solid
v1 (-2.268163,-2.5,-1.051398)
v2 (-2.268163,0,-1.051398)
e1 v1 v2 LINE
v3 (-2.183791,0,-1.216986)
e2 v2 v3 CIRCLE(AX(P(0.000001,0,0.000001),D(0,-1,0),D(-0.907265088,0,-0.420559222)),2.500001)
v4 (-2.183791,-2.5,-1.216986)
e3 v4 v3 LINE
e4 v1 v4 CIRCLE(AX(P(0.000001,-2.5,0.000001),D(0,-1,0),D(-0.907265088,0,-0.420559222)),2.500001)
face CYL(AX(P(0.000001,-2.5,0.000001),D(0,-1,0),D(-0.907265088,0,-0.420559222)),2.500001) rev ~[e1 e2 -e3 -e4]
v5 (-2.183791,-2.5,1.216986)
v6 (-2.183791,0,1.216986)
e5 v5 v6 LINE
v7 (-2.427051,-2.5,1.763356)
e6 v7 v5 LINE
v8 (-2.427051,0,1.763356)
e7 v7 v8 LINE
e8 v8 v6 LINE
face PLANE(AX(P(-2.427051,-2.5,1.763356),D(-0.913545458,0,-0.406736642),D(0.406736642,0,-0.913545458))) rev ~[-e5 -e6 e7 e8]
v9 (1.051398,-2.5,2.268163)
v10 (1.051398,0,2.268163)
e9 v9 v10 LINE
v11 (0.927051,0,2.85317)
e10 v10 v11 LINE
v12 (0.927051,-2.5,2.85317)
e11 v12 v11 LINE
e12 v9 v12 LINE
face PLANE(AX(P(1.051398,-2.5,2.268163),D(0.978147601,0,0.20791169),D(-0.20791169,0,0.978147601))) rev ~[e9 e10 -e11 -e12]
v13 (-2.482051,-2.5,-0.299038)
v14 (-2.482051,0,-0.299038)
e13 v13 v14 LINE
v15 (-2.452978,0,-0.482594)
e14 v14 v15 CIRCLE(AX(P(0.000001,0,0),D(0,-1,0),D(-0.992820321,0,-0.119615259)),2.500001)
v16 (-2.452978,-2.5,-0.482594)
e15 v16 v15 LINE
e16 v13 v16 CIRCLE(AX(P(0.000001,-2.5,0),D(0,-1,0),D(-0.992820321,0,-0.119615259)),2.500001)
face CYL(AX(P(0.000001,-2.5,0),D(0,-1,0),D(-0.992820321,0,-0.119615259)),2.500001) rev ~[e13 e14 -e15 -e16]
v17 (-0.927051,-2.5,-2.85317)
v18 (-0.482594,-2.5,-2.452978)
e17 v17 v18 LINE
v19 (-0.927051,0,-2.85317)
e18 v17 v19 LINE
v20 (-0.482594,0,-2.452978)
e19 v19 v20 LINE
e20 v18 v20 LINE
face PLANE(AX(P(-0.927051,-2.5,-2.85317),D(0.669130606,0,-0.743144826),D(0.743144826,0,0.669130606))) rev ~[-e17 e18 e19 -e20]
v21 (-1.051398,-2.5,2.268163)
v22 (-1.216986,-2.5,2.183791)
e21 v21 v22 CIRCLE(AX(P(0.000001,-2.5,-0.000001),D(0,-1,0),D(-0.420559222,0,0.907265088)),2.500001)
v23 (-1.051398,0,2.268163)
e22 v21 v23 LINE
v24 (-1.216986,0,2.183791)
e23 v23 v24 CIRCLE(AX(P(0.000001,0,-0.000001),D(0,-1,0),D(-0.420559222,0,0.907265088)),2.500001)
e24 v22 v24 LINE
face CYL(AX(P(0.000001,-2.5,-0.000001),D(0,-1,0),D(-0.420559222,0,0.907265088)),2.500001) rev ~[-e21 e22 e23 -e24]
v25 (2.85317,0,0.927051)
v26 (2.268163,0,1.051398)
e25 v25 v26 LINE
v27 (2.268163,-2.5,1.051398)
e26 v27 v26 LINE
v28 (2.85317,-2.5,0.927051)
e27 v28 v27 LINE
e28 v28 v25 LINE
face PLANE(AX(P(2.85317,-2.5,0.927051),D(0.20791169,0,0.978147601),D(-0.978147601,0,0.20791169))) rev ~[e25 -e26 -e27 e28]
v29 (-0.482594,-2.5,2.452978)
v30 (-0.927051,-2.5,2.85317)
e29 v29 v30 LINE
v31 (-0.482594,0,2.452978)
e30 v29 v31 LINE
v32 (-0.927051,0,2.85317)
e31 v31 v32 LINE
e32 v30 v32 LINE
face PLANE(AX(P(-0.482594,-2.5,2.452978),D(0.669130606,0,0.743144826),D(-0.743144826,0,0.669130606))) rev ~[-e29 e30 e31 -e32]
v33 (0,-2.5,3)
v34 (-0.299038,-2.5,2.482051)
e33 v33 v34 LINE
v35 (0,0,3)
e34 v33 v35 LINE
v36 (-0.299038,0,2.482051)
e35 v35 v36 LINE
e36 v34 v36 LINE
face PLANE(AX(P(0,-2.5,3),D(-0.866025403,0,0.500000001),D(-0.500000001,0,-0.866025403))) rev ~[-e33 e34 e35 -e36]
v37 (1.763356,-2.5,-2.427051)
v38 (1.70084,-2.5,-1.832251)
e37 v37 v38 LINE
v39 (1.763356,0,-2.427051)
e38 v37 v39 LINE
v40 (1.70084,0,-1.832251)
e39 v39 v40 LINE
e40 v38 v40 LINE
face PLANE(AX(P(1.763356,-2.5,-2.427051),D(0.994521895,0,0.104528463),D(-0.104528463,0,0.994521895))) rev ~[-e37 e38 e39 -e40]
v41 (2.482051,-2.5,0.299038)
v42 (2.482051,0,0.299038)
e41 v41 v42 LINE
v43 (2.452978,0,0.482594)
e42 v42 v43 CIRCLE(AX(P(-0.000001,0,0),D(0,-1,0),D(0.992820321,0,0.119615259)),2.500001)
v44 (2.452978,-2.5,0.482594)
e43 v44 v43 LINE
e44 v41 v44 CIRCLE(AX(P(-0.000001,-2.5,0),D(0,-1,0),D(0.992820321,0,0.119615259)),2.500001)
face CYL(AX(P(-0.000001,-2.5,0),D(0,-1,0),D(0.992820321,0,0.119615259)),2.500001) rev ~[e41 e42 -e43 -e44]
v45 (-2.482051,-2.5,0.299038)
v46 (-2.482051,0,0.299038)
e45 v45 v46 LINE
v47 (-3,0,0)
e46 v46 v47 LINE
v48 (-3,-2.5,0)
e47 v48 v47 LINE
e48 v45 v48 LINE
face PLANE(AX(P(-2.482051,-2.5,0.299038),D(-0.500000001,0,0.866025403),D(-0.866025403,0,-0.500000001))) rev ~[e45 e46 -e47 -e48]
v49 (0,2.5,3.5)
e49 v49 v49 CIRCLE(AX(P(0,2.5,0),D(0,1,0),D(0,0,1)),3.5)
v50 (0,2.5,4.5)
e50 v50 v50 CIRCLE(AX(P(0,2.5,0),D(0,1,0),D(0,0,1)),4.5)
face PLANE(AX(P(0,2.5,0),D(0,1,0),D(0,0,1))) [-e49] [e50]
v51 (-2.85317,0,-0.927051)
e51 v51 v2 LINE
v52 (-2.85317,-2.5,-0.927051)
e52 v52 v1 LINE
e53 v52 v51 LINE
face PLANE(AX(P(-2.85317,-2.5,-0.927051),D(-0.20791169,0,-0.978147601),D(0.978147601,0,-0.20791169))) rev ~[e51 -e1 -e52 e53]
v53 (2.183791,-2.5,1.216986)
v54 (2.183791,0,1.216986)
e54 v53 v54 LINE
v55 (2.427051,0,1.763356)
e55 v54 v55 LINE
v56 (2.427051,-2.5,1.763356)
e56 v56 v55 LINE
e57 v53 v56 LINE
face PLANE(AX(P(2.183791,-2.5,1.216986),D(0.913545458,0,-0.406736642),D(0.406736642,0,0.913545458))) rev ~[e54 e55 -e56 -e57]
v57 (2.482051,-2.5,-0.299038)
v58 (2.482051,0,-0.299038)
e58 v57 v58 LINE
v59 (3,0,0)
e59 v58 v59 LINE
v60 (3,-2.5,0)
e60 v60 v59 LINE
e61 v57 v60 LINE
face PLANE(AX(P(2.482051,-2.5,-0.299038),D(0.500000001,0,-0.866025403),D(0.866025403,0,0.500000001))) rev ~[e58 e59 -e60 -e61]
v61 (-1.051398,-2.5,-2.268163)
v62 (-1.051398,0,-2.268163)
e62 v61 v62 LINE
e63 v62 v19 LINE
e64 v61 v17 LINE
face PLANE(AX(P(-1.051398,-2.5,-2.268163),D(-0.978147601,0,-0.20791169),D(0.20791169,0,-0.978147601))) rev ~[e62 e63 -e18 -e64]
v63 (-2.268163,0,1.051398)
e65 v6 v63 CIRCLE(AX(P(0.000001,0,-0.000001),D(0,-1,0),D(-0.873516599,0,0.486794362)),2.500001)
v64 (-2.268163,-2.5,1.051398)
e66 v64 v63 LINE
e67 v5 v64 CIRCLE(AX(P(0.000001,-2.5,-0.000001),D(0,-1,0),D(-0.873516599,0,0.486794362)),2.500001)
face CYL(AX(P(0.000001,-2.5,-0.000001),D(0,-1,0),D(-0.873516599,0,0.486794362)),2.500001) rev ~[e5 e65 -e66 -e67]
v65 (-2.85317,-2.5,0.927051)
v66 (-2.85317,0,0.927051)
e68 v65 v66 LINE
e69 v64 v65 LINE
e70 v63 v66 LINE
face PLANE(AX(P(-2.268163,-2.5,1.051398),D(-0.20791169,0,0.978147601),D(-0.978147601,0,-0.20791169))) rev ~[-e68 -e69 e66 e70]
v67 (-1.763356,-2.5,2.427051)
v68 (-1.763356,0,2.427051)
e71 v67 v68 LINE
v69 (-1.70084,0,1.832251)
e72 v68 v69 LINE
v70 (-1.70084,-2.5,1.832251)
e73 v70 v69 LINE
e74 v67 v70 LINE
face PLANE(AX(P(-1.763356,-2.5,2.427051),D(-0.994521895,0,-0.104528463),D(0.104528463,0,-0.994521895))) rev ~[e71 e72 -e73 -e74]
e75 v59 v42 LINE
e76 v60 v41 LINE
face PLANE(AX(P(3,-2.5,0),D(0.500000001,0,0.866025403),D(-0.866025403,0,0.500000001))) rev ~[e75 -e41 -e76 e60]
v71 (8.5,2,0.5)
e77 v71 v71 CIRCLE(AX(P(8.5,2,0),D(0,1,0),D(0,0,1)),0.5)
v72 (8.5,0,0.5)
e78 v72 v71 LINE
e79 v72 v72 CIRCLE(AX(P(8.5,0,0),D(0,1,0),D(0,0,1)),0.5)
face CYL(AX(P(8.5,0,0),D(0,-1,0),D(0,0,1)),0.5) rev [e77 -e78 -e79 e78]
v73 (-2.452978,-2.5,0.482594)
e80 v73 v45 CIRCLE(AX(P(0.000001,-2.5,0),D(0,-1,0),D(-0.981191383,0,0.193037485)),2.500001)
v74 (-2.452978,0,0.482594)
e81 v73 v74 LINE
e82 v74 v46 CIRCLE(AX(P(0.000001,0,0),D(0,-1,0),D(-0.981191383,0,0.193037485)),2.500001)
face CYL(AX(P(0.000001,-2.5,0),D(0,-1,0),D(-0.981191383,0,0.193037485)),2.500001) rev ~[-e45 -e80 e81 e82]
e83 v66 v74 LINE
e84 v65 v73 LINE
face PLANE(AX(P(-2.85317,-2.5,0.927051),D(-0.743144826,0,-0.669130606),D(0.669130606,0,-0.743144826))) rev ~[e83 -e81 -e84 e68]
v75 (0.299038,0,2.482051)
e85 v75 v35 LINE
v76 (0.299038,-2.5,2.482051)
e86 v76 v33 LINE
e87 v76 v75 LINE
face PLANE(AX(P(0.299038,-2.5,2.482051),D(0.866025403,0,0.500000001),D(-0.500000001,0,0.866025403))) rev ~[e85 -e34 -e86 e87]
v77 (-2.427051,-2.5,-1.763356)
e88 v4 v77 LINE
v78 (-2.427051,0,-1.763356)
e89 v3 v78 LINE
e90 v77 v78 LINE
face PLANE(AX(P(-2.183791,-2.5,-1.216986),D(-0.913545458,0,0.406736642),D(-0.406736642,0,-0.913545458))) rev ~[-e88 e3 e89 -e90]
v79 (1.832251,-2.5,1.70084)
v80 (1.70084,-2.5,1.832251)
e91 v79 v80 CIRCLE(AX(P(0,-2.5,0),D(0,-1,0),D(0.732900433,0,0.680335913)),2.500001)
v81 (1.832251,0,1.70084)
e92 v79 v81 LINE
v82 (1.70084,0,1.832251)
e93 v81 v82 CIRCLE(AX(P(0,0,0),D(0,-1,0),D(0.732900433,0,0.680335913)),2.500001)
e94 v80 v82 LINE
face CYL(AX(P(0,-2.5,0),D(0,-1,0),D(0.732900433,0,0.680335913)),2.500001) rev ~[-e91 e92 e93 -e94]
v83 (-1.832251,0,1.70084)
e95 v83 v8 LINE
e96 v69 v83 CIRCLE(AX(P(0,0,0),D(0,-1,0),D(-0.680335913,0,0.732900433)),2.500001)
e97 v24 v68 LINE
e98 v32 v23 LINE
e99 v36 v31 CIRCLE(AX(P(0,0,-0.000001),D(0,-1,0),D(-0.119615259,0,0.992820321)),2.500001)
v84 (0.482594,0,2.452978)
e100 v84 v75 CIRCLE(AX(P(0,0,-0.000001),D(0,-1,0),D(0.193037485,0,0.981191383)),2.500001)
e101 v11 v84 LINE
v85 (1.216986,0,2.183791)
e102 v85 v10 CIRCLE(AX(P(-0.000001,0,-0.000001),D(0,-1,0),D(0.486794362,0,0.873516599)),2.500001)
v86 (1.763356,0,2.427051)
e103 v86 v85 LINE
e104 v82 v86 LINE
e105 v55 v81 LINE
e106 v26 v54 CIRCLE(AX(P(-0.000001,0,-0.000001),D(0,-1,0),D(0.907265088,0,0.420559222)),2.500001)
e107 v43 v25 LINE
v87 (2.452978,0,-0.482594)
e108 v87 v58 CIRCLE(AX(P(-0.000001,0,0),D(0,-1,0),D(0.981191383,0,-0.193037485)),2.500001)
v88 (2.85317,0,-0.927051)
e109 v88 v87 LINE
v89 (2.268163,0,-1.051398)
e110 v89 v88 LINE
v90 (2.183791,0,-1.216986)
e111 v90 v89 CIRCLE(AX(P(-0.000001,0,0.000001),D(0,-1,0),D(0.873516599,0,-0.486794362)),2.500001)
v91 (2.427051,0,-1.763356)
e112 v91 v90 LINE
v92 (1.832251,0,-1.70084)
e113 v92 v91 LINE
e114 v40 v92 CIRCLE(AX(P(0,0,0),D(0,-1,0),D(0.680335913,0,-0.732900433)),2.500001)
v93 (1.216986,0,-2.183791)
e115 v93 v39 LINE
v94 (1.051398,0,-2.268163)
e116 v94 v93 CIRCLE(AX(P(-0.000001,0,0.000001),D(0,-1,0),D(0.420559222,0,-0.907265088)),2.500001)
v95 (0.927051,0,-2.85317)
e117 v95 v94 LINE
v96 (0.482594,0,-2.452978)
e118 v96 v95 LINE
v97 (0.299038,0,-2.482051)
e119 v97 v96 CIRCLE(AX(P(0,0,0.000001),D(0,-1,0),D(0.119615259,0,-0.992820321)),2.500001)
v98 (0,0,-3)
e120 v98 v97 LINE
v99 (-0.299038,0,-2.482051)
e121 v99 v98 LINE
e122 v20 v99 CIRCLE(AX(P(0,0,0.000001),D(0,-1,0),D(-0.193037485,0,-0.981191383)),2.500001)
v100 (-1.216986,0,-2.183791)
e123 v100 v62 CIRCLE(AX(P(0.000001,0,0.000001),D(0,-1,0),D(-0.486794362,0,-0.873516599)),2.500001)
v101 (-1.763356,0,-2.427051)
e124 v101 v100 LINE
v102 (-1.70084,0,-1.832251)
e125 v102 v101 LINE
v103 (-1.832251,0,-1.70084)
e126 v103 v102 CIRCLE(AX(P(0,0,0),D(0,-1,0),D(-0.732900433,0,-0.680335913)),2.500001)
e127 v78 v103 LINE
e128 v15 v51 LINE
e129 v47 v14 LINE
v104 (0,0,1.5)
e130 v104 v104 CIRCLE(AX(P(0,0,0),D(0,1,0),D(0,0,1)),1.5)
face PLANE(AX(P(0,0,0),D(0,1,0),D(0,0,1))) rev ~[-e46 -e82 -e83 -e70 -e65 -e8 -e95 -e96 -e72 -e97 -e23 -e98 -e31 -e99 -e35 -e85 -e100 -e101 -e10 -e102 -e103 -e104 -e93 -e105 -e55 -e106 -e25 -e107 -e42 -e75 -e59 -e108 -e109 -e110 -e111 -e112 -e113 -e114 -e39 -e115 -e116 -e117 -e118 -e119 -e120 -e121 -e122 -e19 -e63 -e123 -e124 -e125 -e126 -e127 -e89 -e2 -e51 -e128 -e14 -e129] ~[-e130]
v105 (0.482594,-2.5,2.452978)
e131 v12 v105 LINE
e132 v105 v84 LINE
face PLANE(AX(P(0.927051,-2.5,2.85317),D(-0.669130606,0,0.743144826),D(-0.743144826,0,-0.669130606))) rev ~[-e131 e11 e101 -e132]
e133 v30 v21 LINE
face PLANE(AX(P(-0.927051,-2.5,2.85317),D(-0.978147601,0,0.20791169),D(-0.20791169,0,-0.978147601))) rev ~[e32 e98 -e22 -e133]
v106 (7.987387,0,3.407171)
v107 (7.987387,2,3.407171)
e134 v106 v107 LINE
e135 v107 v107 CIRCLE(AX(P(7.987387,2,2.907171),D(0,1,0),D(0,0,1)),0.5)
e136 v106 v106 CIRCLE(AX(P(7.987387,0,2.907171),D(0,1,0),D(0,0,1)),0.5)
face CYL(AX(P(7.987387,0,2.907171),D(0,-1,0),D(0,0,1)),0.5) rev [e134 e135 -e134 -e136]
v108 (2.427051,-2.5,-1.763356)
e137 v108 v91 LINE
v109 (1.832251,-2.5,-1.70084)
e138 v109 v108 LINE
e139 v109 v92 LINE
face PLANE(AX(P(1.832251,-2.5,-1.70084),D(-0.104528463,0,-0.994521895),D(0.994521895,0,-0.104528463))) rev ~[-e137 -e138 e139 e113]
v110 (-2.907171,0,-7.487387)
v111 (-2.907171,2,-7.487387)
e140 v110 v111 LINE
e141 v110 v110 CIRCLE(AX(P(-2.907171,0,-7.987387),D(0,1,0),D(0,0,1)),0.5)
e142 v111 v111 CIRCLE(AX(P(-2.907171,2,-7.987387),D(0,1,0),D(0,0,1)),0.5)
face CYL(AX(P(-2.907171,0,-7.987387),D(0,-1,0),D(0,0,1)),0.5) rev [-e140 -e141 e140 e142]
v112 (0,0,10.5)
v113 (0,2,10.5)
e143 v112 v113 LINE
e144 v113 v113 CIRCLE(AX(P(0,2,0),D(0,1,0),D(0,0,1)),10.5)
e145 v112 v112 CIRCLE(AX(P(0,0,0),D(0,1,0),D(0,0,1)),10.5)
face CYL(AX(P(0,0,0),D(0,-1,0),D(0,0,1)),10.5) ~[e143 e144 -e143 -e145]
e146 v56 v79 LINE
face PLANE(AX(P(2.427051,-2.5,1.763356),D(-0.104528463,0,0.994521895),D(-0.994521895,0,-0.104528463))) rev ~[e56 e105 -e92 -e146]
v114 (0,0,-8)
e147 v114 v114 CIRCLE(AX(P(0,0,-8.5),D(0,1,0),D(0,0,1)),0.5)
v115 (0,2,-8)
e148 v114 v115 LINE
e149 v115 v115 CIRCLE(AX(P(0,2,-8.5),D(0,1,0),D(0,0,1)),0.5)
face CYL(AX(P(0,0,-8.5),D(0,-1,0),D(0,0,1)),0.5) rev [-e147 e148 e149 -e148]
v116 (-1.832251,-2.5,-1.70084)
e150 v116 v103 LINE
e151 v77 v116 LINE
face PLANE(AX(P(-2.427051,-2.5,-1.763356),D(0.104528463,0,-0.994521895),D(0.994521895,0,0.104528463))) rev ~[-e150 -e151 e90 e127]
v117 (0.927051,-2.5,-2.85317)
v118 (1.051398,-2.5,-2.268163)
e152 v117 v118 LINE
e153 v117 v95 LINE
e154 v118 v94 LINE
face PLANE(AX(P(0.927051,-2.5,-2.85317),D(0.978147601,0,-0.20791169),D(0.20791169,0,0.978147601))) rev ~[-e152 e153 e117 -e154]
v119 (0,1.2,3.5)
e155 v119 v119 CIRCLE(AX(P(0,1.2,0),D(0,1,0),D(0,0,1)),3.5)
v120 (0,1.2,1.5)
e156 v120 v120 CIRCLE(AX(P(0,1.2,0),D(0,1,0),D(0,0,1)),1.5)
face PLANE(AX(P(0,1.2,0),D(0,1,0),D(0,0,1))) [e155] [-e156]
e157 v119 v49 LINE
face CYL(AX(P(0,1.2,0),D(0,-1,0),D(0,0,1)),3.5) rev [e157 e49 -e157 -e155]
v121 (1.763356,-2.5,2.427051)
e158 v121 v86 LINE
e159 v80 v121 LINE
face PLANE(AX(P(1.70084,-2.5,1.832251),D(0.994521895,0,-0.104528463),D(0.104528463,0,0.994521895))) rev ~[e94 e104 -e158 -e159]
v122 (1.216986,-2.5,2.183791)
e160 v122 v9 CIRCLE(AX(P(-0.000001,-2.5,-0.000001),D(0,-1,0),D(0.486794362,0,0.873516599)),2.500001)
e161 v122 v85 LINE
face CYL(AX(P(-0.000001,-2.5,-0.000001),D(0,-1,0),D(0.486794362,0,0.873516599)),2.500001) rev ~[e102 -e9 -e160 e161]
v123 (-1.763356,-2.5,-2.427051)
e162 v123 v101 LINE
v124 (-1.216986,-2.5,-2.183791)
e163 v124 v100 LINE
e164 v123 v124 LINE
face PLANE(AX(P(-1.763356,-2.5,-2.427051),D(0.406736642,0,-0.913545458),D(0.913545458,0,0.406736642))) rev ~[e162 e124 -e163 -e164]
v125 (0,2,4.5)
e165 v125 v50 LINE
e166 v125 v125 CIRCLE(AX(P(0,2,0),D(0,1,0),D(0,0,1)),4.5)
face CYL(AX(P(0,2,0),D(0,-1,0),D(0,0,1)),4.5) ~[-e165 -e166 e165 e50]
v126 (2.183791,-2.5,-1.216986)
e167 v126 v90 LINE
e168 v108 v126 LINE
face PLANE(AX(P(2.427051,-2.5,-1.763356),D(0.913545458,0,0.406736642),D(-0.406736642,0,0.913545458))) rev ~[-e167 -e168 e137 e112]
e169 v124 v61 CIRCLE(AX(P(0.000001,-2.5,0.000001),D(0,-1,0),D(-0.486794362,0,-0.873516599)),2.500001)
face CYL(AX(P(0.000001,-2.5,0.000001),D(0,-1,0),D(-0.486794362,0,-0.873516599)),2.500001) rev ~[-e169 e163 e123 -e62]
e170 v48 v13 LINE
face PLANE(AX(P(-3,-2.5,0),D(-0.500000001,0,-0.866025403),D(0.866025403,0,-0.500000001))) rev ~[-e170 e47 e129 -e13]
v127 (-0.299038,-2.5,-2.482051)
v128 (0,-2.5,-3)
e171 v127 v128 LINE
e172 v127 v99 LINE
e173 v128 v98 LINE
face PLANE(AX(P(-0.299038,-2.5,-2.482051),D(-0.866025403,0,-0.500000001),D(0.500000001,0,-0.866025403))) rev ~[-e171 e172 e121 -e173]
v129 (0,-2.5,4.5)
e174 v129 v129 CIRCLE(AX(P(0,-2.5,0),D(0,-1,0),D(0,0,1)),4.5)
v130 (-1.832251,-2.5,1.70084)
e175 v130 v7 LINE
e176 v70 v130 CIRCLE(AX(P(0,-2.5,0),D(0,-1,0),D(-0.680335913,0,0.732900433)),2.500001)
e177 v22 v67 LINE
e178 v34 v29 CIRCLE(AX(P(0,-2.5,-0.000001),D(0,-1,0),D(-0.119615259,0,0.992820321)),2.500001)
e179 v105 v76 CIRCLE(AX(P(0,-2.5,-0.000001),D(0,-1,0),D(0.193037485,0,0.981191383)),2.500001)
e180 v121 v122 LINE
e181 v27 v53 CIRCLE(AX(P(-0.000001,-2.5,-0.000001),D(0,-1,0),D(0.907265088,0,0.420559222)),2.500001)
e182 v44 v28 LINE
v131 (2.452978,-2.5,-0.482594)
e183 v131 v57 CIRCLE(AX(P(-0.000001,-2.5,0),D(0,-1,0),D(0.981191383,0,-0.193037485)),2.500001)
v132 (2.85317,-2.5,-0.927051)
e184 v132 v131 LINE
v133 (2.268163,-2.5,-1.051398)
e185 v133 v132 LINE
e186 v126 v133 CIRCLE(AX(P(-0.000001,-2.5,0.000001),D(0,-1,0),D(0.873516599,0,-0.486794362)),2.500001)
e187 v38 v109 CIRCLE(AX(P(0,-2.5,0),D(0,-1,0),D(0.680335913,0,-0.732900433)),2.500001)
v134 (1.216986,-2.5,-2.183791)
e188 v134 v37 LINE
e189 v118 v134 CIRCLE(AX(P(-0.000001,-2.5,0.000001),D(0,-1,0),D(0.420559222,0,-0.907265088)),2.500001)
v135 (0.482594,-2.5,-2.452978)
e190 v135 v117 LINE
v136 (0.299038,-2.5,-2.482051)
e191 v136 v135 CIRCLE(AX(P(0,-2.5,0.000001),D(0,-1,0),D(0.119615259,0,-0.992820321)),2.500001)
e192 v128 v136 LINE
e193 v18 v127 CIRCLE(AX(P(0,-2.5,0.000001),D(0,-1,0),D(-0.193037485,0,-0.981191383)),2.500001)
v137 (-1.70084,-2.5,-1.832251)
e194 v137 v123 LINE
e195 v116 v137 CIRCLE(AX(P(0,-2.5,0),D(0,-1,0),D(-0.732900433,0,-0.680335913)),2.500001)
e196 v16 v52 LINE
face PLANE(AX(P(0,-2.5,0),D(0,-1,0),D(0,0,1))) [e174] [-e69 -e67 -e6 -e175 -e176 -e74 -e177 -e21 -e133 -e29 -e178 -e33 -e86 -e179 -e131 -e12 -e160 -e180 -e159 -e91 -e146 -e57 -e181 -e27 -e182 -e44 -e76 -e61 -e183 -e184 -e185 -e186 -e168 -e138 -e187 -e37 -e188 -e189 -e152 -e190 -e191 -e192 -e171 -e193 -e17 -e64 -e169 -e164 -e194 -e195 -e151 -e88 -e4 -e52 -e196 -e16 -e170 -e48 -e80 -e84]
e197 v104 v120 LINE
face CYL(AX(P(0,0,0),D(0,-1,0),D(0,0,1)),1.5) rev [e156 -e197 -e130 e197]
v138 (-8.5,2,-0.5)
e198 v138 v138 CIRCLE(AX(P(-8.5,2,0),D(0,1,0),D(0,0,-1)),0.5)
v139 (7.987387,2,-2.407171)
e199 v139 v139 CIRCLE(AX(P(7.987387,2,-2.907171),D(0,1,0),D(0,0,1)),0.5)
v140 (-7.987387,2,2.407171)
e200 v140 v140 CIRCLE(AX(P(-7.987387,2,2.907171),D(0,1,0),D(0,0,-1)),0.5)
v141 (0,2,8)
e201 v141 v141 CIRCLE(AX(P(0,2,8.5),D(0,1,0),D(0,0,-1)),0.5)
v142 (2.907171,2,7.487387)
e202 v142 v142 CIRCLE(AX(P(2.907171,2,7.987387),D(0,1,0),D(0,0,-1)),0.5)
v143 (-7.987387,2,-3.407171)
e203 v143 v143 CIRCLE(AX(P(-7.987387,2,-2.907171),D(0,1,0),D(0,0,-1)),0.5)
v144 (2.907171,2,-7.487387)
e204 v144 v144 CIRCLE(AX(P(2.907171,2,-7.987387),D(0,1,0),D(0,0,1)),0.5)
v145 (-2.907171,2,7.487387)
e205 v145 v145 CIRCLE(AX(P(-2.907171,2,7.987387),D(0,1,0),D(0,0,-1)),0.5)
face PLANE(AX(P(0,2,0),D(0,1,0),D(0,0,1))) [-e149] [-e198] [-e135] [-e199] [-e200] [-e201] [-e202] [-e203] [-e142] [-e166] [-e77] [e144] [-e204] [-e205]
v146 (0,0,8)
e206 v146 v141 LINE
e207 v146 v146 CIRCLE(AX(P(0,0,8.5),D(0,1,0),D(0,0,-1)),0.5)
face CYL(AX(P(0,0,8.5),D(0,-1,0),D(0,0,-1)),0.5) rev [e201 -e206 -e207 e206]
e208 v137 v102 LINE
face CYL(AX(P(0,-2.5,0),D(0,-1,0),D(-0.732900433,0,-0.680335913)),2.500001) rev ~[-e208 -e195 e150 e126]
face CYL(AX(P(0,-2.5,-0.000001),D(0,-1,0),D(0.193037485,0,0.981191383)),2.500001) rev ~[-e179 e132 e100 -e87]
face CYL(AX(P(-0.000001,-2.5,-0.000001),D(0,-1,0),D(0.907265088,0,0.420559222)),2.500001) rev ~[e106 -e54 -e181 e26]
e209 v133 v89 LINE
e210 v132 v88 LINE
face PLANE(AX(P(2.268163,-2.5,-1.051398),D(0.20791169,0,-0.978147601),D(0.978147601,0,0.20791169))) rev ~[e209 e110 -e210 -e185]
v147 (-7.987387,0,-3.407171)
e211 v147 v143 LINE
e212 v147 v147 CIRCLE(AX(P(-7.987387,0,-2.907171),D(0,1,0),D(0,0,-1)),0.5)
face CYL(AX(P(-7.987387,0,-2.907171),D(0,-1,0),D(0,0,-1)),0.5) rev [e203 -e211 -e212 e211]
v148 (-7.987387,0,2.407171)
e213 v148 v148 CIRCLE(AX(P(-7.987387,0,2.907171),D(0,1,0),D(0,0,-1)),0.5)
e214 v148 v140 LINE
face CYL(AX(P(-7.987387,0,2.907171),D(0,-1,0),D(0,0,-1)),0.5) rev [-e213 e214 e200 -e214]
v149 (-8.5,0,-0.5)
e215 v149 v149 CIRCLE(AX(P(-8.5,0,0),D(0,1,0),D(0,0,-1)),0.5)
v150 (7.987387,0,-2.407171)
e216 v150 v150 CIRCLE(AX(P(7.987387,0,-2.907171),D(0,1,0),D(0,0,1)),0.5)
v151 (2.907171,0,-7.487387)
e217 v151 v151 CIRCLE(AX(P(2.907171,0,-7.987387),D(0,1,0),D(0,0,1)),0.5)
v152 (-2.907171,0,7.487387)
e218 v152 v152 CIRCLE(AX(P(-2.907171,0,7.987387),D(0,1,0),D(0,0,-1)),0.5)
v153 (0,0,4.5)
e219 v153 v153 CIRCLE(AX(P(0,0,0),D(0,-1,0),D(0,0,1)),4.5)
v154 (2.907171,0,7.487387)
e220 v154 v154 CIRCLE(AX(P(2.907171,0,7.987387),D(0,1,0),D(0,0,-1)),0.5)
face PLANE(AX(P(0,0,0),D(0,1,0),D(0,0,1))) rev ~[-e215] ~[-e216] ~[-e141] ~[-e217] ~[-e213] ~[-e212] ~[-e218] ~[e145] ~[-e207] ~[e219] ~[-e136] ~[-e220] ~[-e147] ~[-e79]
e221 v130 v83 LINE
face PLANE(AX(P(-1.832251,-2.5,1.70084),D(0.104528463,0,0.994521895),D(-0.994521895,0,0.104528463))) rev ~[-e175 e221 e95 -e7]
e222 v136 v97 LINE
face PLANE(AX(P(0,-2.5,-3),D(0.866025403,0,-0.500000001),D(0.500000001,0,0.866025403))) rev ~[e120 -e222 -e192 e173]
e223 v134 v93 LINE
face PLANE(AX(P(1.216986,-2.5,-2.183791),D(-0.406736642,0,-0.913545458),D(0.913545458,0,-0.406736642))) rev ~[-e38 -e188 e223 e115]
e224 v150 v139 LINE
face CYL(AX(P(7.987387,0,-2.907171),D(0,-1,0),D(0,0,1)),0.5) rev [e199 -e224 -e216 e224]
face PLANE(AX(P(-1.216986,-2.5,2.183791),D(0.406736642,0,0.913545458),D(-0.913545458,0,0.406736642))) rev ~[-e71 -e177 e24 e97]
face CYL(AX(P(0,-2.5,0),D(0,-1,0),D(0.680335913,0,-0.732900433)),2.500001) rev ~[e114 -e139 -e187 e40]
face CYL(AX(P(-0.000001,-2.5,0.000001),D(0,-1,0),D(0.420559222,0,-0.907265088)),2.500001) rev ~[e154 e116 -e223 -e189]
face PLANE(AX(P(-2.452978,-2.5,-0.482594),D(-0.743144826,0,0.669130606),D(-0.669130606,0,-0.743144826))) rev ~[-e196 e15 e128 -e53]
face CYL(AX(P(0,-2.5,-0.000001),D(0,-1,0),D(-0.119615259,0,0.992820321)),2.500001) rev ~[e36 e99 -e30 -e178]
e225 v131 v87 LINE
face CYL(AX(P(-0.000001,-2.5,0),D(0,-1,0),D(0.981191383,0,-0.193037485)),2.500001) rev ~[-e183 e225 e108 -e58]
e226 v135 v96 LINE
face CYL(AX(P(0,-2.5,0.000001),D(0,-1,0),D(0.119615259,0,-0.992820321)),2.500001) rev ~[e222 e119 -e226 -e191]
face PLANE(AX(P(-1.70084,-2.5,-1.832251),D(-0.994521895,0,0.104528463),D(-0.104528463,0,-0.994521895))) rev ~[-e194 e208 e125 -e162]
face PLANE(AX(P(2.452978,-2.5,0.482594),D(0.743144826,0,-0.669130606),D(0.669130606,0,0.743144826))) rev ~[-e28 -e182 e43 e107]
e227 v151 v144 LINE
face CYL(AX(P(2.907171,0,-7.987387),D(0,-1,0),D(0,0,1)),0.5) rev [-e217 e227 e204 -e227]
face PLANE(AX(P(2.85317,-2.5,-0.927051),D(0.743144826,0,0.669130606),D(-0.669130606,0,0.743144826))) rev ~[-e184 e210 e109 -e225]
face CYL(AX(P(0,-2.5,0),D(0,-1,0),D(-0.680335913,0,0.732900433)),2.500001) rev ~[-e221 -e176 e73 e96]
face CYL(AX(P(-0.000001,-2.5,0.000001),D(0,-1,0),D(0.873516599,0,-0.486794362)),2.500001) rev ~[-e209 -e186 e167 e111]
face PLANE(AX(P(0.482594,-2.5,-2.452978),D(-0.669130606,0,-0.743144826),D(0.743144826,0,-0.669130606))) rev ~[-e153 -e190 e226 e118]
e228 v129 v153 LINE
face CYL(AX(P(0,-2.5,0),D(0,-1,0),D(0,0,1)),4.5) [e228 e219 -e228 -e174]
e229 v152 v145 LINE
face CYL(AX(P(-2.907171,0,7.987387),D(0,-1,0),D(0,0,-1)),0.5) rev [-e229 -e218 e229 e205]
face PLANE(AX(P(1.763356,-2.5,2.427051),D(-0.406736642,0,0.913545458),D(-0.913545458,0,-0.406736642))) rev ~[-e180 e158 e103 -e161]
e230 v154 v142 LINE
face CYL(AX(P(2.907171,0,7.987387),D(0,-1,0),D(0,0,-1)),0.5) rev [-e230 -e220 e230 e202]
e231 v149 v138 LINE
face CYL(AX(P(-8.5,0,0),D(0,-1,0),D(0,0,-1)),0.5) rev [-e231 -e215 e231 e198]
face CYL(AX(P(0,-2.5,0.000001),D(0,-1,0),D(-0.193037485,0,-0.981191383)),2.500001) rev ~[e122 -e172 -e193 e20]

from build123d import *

# Parameters (mm, degrees)
SKETCH1_R           = 10.5
SKETCH1_R_2         = 1.5
SKETCH1_R_3         = 0.5
BOSS_EXTRUDE1_DEPTH = 2
SKETCH2_R           = 4.5
SKETCH2_R_2         = 3.5
BOSS_EXTRUDE2_DEPTH = 0.5
CUT_EXTRUDE1_START  = -0.8
SKETCH3_R           = 3.5
SKETCH3_R_2         = 1.5
CUT_EXTRUDE1_DEPTH  = 0.8
BOSS_EXTRUDE3_START = 2.5
SKETCH4_R           = 4.5
SKETCH4_R_2         = 2.5
BOSS_EXTRUDE3_DEPTH = 2.5
CUT_EXTRUDE3_DEPTH  = 2.5


with BuildPart() as part:
    # Sketch1 → Boss-Extrude1 (new body)
    with BuildSketch(Plane(origin=(0, 0, 0), x_dir=(1, 0, 0), z_dir=(0, 1, 0))):
        with Locations(Location((0, 0, 0), (0, 0, 270))):
            Circle(SKETCH1_R)
        with Locations(Location((0, 0, 0), (0, 0, 270))):
            Circle(SKETCH1_R_2, mode=Mode.SUBTRACT)
        with Locations(Location((2.907171218, 7.987387277, 0), (0, 0, 270))):
            Circle(SKETCH1_R_3, mode=Mode.SUBTRACT)
        with Locations(Location((-2.907171218, 7.987387277, 0), (0, 0, 270))):
            Circle(SKETCH1_R_3, mode=Mode.SUBTRACT)
        with Locations(Location((2.907171218, -7.987387277, 0), (0, 0, 90))):
            Circle(SKETCH1_R_3, mode=Mode.SUBTRACT)
        with Locations(Location((-2.907171218, -7.987387277, 0), (0, 0, 90))):
            Circle(SKETCH1_R_3, mode=Mode.SUBTRACT)
        with Locations(Location((0, -8.5, 0), (0, 0, 90))):
            Circle(SKETCH1_R_3, mode=Mode.SUBTRACT)
        with Locations(Location((8.5, 0, 0), (0, 0, 270))):
            Circle(SKETCH1_R_3, mode=Mode.SUBTRACT)
        with Locations(Location((7.987387277, 2.907171218, 0), (0, 0, 270))):
            Circle(SKETCH1_R_3, mode=Mode.SUBTRACT)
        with Locations(Location((7.987387277, -2.907171218, 0), (0, 0, 270))):
            Circle(SKETCH1_R_3, mode=Mode.SUBTRACT)
        with Locations(Location((-7.987387277, -2.907171218, 0), (0, 0, 90))):
            Circle(SKETCH1_R_3, mode=Mode.SUBTRACT)
        with Locations(Location((-8.5, 0, 0), (0, 0, 90))):
            Circle(SKETCH1_R_3, mode=Mode.SUBTRACT)
        with Locations(Location((-7.987387277, 2.907171218, 0), (0, 0, 90))):
            Circle(SKETCH1_R_3, mode=Mode.SUBTRACT)
        with Locations(Location((0, 8.5, 0), (0, 0, 270))):
            Circle(SKETCH1_R_3, mode=Mode.SUBTRACT)
    extrude(amount=BOSS_EXTRUDE1_DEPTH)

    # Sketch2 → Boss-Extrude2 (add)
    with BuildSketch(Plane(origin=(0, 2, 0), x_dir=(1, 0, 0), z_dir=(0, 1, 0))):
        with Locations(Location((0, 0, 0), (0, 0, 270))):
            Circle(SKETCH2_R)
        with Locations(Location((0, 0, 0), (0, 0, 270))):
            Circle(SKETCH2_R_2, mode=Mode.SUBTRACT)
    extrude(amount=BOSS_EXTRUDE2_DEPTH)

    # Sketch3 → Cut-Extrude1 (cut)
    with BuildSketch(Plane(origin=(0, 2, 0), x_dir=(1, 0, 0), z_dir=(0, 1, 0)).offset(CUT_EXTRUDE1_START)):
        with Locations(Location((0, 0, 0), (0, 0, 270))):
            Circle(SKETCH3_R)
        with Locations(Location((0, 0, 0), (0, 0, 270))):
            Circle(SKETCH3_R_2, mode=Mode.SUBTRACT)
    extrude(amount=CUT_EXTRUDE1_DEPTH, mode=Mode.SUBTRACT)

    # Sketch4 → Boss-Extrude3 (add)
    with BuildSketch(Plane.XZ.offset(BOSS_EXTRUDE3_START)):
        with Locations(Location((0, 0, 0), (0, 0, 90))):
            Circle(SKETCH4_R)
        with Locations(Location((0, 0, 0), (0, 0, 270))):
            Circle(SKETCH4_R_2, mode=Mode.SUBTRACT)
    extrude(amount=-BOSS_EXTRUDE3_DEPTH)

    # Sketch5 → Cut-Extrude3 (cut)
    with BuildSketch(Plane.XZ.offset(2.5)):
        with BuildLine():
            Line((0.299038106, 2.482050808), (0, 3))
            Line((0, 3), (-0.299038106, 2.482050808))
            ThreePointArc((-0.299038106, 2.482050808), (-0.391086163, 2.469220851), (-0.482593741, 2.452978451))
            Line((-0.482593741, 2.452978451), (-0.927050983, 2.853169549))
            Line((-0.927050983, 2.853169549), (-1.051398019, 2.268162738))
            ThreePointArc((-1.051398019, 2.268162738), (-1.134976249, 2.22751631), (-1.216985951, 2.183791473))
            Line((-1.216985951, 2.183791473), (-1.763355757, 2.427050983))
            Line((-1.763355757, 2.427050983), (-1.70083977, 1.832251096))
            ThreePointArc((-1.70083977, 1.832251096), (-1.767766953, 1.767766953), (-1.832251096, 1.70083977))
            Line((-1.832251096, 1.70083977), (-2.427050983, 1.763355757))
            Line((-2.427050983, 1.763355757), (-2.183791473, 1.216985951))
            ThreePointArc((-2.183791473, 1.216985951), (-2.22751631, 1.134976249), (-2.268162738, 1.051398019))
            Line((-2.268162738, 1.051398019), (-2.853169549, 0.927050983))
            Line((-2.853169549, 0.927050983), (-2.452978451, 0.482593741))
            ThreePointArc((-2.452978451, 0.482593741), (-2.469220851, 0.391086163), (-2.482050808, 0.299038106))
            Line((-2.482050808, 0.299038106), (-3, 0))
            Line((-3, 0), (-2.482050808, -0.299038106))
            ThreePointArc((-2.482050808, -0.299038106), (-2.469220851, -0.391086163), (-2.452978451, -0.482593741))
            Line((-2.452978451, -0.482593741), (-2.853169549, -0.927050983))
            Line((-2.853169549, -0.927050983), (-2.268162738, -1.051398019))
            ThreePointArc((-2.268162738, -1.051398019), (-2.22751631, -1.134976249), (-2.183791473, -1.216985951))
            Line((-2.183791473, -1.216985951), (-2.427050983, -1.763355757))
            Line((-2.427050983, -1.763355757), (-1.832251096, -1.70083977))
            ThreePointArc((-1.832251096, -1.70083977), (-1.767766953, -1.767766953), (-1.70083977, -1.832251096))
            Line((-1.70083977, -1.832251096), (-1.763355757, -2.427050983))
            Line((-1.763355757, -2.427050983), (-1.216985951, -2.183791473))
            ThreePointArc((-1.216985951, -2.183791473), (-1.134976249, -2.22751631), (-1.051398019, -2.268162738))
            Line((-1.051398019, -2.268162738), (-0.927050983, -2.853169549))
            Line((-0.927050983, -2.853169549), (-0.482593741, -2.452978451))
            ThreePointArc((-0.482593741, -2.452978451), (-0.391086163, -2.469220851), (-0.299038106, -2.482050808))
            Line((-0.299038106, -2.482050808), (0, -3))
            Line((0, -3), (0.299038106, -2.482050808))
            ThreePointArc((0.299038106, -2.482050808), (0.391086163, -2.469220851), (0.482593741, -2.452978451))
            Line((0.482593741, -2.452978451), (0.927050983, -2.853169549))
            Line((0.927050983, -2.853169549), (1.051398019, -2.268162738))
            ThreePointArc((1.051398019, -2.268162738), (1.134976249, -2.22751631), (1.216985951, -2.183791473))
            Line((1.216985951, -2.183791473), (1.763355757, -2.427050983))
            Line((1.763355757, -2.427050983), (1.70083977, -1.832251096))
            ThreePointArc((1.70083977, -1.832251096), (1.767766953, -1.767766953), (1.832251096, -1.70083977))
            Line((1.832251096, -1.70083977), (2.427050983, -1.763355757))
            Line((2.427050983, -1.763355757), (2.183791473, -1.216985951))
            ThreePointArc((2.183791473, -1.216985951), (2.22751631, -1.134976249), (2.268162738, -1.051398019))
            Line((2.268162738, -1.051398019), (2.853169549, -0.927050983))
            Line((2.853169549, -0.927050983), (2.452978451, -0.482593741))
            ThreePointArc((2.452978451, -0.482593741), (2.469220851, -0.391086163), (2.482050808, -0.299038106))
            Line((2.482050808, -0.299038106), (3, 0))
            Line((3, 0), (2.482050808, 0.299038106))
            ThreePointArc((2.482050808, 0.299038106), (2.469220851, 0.391086163), (2.452978451, 0.482593741))
            Line((2.452978451, 0.482593741), (2.853169549, 0.927050983))
            Line((2.853169549, 0.927050983), (2.268162738, 1.051398019))
            ThreePointArc((2.268162738, 1.051398019), (2.22751631, 1.134976249), (2.183791473, 1.216985951))
            Line((2.183791473, 1.216985951), (2.427050983, 1.763355757))
            Line((2.427050983, 1.763355757), (1.832251096, 1.70083977))
            ThreePointArc((1.832251096, 1.70083977), (1.767766953, 1.767766953), (1.70083977, 1.832251096))
            Line((1.70083977, 1.832251096), (1.763355757, 2.427050983))
            Line((1.763355757, 2.427050983), (1.216985951, 2.183791473))
            ThreePointArc((1.216985951, 2.183791473), (1.134976249, 2.22751631), (1.051398019, 2.268162738))
            Line((1.051398019, 2.268162738), (0.927050983, 2.853169549))
            Line((0.927050983, 2.853169549), (0.482593741, 2.452978451))
            ThreePointArc((0.482593741, 2.452978451), (0.391086163, 2.469220851), (0.299038106, 2.482050808))
        make_face()
    extrude(amount=-CUT_EXTRUDE3_DEPTH, mode=Mode.SUBTRACT)


solid = part.part
